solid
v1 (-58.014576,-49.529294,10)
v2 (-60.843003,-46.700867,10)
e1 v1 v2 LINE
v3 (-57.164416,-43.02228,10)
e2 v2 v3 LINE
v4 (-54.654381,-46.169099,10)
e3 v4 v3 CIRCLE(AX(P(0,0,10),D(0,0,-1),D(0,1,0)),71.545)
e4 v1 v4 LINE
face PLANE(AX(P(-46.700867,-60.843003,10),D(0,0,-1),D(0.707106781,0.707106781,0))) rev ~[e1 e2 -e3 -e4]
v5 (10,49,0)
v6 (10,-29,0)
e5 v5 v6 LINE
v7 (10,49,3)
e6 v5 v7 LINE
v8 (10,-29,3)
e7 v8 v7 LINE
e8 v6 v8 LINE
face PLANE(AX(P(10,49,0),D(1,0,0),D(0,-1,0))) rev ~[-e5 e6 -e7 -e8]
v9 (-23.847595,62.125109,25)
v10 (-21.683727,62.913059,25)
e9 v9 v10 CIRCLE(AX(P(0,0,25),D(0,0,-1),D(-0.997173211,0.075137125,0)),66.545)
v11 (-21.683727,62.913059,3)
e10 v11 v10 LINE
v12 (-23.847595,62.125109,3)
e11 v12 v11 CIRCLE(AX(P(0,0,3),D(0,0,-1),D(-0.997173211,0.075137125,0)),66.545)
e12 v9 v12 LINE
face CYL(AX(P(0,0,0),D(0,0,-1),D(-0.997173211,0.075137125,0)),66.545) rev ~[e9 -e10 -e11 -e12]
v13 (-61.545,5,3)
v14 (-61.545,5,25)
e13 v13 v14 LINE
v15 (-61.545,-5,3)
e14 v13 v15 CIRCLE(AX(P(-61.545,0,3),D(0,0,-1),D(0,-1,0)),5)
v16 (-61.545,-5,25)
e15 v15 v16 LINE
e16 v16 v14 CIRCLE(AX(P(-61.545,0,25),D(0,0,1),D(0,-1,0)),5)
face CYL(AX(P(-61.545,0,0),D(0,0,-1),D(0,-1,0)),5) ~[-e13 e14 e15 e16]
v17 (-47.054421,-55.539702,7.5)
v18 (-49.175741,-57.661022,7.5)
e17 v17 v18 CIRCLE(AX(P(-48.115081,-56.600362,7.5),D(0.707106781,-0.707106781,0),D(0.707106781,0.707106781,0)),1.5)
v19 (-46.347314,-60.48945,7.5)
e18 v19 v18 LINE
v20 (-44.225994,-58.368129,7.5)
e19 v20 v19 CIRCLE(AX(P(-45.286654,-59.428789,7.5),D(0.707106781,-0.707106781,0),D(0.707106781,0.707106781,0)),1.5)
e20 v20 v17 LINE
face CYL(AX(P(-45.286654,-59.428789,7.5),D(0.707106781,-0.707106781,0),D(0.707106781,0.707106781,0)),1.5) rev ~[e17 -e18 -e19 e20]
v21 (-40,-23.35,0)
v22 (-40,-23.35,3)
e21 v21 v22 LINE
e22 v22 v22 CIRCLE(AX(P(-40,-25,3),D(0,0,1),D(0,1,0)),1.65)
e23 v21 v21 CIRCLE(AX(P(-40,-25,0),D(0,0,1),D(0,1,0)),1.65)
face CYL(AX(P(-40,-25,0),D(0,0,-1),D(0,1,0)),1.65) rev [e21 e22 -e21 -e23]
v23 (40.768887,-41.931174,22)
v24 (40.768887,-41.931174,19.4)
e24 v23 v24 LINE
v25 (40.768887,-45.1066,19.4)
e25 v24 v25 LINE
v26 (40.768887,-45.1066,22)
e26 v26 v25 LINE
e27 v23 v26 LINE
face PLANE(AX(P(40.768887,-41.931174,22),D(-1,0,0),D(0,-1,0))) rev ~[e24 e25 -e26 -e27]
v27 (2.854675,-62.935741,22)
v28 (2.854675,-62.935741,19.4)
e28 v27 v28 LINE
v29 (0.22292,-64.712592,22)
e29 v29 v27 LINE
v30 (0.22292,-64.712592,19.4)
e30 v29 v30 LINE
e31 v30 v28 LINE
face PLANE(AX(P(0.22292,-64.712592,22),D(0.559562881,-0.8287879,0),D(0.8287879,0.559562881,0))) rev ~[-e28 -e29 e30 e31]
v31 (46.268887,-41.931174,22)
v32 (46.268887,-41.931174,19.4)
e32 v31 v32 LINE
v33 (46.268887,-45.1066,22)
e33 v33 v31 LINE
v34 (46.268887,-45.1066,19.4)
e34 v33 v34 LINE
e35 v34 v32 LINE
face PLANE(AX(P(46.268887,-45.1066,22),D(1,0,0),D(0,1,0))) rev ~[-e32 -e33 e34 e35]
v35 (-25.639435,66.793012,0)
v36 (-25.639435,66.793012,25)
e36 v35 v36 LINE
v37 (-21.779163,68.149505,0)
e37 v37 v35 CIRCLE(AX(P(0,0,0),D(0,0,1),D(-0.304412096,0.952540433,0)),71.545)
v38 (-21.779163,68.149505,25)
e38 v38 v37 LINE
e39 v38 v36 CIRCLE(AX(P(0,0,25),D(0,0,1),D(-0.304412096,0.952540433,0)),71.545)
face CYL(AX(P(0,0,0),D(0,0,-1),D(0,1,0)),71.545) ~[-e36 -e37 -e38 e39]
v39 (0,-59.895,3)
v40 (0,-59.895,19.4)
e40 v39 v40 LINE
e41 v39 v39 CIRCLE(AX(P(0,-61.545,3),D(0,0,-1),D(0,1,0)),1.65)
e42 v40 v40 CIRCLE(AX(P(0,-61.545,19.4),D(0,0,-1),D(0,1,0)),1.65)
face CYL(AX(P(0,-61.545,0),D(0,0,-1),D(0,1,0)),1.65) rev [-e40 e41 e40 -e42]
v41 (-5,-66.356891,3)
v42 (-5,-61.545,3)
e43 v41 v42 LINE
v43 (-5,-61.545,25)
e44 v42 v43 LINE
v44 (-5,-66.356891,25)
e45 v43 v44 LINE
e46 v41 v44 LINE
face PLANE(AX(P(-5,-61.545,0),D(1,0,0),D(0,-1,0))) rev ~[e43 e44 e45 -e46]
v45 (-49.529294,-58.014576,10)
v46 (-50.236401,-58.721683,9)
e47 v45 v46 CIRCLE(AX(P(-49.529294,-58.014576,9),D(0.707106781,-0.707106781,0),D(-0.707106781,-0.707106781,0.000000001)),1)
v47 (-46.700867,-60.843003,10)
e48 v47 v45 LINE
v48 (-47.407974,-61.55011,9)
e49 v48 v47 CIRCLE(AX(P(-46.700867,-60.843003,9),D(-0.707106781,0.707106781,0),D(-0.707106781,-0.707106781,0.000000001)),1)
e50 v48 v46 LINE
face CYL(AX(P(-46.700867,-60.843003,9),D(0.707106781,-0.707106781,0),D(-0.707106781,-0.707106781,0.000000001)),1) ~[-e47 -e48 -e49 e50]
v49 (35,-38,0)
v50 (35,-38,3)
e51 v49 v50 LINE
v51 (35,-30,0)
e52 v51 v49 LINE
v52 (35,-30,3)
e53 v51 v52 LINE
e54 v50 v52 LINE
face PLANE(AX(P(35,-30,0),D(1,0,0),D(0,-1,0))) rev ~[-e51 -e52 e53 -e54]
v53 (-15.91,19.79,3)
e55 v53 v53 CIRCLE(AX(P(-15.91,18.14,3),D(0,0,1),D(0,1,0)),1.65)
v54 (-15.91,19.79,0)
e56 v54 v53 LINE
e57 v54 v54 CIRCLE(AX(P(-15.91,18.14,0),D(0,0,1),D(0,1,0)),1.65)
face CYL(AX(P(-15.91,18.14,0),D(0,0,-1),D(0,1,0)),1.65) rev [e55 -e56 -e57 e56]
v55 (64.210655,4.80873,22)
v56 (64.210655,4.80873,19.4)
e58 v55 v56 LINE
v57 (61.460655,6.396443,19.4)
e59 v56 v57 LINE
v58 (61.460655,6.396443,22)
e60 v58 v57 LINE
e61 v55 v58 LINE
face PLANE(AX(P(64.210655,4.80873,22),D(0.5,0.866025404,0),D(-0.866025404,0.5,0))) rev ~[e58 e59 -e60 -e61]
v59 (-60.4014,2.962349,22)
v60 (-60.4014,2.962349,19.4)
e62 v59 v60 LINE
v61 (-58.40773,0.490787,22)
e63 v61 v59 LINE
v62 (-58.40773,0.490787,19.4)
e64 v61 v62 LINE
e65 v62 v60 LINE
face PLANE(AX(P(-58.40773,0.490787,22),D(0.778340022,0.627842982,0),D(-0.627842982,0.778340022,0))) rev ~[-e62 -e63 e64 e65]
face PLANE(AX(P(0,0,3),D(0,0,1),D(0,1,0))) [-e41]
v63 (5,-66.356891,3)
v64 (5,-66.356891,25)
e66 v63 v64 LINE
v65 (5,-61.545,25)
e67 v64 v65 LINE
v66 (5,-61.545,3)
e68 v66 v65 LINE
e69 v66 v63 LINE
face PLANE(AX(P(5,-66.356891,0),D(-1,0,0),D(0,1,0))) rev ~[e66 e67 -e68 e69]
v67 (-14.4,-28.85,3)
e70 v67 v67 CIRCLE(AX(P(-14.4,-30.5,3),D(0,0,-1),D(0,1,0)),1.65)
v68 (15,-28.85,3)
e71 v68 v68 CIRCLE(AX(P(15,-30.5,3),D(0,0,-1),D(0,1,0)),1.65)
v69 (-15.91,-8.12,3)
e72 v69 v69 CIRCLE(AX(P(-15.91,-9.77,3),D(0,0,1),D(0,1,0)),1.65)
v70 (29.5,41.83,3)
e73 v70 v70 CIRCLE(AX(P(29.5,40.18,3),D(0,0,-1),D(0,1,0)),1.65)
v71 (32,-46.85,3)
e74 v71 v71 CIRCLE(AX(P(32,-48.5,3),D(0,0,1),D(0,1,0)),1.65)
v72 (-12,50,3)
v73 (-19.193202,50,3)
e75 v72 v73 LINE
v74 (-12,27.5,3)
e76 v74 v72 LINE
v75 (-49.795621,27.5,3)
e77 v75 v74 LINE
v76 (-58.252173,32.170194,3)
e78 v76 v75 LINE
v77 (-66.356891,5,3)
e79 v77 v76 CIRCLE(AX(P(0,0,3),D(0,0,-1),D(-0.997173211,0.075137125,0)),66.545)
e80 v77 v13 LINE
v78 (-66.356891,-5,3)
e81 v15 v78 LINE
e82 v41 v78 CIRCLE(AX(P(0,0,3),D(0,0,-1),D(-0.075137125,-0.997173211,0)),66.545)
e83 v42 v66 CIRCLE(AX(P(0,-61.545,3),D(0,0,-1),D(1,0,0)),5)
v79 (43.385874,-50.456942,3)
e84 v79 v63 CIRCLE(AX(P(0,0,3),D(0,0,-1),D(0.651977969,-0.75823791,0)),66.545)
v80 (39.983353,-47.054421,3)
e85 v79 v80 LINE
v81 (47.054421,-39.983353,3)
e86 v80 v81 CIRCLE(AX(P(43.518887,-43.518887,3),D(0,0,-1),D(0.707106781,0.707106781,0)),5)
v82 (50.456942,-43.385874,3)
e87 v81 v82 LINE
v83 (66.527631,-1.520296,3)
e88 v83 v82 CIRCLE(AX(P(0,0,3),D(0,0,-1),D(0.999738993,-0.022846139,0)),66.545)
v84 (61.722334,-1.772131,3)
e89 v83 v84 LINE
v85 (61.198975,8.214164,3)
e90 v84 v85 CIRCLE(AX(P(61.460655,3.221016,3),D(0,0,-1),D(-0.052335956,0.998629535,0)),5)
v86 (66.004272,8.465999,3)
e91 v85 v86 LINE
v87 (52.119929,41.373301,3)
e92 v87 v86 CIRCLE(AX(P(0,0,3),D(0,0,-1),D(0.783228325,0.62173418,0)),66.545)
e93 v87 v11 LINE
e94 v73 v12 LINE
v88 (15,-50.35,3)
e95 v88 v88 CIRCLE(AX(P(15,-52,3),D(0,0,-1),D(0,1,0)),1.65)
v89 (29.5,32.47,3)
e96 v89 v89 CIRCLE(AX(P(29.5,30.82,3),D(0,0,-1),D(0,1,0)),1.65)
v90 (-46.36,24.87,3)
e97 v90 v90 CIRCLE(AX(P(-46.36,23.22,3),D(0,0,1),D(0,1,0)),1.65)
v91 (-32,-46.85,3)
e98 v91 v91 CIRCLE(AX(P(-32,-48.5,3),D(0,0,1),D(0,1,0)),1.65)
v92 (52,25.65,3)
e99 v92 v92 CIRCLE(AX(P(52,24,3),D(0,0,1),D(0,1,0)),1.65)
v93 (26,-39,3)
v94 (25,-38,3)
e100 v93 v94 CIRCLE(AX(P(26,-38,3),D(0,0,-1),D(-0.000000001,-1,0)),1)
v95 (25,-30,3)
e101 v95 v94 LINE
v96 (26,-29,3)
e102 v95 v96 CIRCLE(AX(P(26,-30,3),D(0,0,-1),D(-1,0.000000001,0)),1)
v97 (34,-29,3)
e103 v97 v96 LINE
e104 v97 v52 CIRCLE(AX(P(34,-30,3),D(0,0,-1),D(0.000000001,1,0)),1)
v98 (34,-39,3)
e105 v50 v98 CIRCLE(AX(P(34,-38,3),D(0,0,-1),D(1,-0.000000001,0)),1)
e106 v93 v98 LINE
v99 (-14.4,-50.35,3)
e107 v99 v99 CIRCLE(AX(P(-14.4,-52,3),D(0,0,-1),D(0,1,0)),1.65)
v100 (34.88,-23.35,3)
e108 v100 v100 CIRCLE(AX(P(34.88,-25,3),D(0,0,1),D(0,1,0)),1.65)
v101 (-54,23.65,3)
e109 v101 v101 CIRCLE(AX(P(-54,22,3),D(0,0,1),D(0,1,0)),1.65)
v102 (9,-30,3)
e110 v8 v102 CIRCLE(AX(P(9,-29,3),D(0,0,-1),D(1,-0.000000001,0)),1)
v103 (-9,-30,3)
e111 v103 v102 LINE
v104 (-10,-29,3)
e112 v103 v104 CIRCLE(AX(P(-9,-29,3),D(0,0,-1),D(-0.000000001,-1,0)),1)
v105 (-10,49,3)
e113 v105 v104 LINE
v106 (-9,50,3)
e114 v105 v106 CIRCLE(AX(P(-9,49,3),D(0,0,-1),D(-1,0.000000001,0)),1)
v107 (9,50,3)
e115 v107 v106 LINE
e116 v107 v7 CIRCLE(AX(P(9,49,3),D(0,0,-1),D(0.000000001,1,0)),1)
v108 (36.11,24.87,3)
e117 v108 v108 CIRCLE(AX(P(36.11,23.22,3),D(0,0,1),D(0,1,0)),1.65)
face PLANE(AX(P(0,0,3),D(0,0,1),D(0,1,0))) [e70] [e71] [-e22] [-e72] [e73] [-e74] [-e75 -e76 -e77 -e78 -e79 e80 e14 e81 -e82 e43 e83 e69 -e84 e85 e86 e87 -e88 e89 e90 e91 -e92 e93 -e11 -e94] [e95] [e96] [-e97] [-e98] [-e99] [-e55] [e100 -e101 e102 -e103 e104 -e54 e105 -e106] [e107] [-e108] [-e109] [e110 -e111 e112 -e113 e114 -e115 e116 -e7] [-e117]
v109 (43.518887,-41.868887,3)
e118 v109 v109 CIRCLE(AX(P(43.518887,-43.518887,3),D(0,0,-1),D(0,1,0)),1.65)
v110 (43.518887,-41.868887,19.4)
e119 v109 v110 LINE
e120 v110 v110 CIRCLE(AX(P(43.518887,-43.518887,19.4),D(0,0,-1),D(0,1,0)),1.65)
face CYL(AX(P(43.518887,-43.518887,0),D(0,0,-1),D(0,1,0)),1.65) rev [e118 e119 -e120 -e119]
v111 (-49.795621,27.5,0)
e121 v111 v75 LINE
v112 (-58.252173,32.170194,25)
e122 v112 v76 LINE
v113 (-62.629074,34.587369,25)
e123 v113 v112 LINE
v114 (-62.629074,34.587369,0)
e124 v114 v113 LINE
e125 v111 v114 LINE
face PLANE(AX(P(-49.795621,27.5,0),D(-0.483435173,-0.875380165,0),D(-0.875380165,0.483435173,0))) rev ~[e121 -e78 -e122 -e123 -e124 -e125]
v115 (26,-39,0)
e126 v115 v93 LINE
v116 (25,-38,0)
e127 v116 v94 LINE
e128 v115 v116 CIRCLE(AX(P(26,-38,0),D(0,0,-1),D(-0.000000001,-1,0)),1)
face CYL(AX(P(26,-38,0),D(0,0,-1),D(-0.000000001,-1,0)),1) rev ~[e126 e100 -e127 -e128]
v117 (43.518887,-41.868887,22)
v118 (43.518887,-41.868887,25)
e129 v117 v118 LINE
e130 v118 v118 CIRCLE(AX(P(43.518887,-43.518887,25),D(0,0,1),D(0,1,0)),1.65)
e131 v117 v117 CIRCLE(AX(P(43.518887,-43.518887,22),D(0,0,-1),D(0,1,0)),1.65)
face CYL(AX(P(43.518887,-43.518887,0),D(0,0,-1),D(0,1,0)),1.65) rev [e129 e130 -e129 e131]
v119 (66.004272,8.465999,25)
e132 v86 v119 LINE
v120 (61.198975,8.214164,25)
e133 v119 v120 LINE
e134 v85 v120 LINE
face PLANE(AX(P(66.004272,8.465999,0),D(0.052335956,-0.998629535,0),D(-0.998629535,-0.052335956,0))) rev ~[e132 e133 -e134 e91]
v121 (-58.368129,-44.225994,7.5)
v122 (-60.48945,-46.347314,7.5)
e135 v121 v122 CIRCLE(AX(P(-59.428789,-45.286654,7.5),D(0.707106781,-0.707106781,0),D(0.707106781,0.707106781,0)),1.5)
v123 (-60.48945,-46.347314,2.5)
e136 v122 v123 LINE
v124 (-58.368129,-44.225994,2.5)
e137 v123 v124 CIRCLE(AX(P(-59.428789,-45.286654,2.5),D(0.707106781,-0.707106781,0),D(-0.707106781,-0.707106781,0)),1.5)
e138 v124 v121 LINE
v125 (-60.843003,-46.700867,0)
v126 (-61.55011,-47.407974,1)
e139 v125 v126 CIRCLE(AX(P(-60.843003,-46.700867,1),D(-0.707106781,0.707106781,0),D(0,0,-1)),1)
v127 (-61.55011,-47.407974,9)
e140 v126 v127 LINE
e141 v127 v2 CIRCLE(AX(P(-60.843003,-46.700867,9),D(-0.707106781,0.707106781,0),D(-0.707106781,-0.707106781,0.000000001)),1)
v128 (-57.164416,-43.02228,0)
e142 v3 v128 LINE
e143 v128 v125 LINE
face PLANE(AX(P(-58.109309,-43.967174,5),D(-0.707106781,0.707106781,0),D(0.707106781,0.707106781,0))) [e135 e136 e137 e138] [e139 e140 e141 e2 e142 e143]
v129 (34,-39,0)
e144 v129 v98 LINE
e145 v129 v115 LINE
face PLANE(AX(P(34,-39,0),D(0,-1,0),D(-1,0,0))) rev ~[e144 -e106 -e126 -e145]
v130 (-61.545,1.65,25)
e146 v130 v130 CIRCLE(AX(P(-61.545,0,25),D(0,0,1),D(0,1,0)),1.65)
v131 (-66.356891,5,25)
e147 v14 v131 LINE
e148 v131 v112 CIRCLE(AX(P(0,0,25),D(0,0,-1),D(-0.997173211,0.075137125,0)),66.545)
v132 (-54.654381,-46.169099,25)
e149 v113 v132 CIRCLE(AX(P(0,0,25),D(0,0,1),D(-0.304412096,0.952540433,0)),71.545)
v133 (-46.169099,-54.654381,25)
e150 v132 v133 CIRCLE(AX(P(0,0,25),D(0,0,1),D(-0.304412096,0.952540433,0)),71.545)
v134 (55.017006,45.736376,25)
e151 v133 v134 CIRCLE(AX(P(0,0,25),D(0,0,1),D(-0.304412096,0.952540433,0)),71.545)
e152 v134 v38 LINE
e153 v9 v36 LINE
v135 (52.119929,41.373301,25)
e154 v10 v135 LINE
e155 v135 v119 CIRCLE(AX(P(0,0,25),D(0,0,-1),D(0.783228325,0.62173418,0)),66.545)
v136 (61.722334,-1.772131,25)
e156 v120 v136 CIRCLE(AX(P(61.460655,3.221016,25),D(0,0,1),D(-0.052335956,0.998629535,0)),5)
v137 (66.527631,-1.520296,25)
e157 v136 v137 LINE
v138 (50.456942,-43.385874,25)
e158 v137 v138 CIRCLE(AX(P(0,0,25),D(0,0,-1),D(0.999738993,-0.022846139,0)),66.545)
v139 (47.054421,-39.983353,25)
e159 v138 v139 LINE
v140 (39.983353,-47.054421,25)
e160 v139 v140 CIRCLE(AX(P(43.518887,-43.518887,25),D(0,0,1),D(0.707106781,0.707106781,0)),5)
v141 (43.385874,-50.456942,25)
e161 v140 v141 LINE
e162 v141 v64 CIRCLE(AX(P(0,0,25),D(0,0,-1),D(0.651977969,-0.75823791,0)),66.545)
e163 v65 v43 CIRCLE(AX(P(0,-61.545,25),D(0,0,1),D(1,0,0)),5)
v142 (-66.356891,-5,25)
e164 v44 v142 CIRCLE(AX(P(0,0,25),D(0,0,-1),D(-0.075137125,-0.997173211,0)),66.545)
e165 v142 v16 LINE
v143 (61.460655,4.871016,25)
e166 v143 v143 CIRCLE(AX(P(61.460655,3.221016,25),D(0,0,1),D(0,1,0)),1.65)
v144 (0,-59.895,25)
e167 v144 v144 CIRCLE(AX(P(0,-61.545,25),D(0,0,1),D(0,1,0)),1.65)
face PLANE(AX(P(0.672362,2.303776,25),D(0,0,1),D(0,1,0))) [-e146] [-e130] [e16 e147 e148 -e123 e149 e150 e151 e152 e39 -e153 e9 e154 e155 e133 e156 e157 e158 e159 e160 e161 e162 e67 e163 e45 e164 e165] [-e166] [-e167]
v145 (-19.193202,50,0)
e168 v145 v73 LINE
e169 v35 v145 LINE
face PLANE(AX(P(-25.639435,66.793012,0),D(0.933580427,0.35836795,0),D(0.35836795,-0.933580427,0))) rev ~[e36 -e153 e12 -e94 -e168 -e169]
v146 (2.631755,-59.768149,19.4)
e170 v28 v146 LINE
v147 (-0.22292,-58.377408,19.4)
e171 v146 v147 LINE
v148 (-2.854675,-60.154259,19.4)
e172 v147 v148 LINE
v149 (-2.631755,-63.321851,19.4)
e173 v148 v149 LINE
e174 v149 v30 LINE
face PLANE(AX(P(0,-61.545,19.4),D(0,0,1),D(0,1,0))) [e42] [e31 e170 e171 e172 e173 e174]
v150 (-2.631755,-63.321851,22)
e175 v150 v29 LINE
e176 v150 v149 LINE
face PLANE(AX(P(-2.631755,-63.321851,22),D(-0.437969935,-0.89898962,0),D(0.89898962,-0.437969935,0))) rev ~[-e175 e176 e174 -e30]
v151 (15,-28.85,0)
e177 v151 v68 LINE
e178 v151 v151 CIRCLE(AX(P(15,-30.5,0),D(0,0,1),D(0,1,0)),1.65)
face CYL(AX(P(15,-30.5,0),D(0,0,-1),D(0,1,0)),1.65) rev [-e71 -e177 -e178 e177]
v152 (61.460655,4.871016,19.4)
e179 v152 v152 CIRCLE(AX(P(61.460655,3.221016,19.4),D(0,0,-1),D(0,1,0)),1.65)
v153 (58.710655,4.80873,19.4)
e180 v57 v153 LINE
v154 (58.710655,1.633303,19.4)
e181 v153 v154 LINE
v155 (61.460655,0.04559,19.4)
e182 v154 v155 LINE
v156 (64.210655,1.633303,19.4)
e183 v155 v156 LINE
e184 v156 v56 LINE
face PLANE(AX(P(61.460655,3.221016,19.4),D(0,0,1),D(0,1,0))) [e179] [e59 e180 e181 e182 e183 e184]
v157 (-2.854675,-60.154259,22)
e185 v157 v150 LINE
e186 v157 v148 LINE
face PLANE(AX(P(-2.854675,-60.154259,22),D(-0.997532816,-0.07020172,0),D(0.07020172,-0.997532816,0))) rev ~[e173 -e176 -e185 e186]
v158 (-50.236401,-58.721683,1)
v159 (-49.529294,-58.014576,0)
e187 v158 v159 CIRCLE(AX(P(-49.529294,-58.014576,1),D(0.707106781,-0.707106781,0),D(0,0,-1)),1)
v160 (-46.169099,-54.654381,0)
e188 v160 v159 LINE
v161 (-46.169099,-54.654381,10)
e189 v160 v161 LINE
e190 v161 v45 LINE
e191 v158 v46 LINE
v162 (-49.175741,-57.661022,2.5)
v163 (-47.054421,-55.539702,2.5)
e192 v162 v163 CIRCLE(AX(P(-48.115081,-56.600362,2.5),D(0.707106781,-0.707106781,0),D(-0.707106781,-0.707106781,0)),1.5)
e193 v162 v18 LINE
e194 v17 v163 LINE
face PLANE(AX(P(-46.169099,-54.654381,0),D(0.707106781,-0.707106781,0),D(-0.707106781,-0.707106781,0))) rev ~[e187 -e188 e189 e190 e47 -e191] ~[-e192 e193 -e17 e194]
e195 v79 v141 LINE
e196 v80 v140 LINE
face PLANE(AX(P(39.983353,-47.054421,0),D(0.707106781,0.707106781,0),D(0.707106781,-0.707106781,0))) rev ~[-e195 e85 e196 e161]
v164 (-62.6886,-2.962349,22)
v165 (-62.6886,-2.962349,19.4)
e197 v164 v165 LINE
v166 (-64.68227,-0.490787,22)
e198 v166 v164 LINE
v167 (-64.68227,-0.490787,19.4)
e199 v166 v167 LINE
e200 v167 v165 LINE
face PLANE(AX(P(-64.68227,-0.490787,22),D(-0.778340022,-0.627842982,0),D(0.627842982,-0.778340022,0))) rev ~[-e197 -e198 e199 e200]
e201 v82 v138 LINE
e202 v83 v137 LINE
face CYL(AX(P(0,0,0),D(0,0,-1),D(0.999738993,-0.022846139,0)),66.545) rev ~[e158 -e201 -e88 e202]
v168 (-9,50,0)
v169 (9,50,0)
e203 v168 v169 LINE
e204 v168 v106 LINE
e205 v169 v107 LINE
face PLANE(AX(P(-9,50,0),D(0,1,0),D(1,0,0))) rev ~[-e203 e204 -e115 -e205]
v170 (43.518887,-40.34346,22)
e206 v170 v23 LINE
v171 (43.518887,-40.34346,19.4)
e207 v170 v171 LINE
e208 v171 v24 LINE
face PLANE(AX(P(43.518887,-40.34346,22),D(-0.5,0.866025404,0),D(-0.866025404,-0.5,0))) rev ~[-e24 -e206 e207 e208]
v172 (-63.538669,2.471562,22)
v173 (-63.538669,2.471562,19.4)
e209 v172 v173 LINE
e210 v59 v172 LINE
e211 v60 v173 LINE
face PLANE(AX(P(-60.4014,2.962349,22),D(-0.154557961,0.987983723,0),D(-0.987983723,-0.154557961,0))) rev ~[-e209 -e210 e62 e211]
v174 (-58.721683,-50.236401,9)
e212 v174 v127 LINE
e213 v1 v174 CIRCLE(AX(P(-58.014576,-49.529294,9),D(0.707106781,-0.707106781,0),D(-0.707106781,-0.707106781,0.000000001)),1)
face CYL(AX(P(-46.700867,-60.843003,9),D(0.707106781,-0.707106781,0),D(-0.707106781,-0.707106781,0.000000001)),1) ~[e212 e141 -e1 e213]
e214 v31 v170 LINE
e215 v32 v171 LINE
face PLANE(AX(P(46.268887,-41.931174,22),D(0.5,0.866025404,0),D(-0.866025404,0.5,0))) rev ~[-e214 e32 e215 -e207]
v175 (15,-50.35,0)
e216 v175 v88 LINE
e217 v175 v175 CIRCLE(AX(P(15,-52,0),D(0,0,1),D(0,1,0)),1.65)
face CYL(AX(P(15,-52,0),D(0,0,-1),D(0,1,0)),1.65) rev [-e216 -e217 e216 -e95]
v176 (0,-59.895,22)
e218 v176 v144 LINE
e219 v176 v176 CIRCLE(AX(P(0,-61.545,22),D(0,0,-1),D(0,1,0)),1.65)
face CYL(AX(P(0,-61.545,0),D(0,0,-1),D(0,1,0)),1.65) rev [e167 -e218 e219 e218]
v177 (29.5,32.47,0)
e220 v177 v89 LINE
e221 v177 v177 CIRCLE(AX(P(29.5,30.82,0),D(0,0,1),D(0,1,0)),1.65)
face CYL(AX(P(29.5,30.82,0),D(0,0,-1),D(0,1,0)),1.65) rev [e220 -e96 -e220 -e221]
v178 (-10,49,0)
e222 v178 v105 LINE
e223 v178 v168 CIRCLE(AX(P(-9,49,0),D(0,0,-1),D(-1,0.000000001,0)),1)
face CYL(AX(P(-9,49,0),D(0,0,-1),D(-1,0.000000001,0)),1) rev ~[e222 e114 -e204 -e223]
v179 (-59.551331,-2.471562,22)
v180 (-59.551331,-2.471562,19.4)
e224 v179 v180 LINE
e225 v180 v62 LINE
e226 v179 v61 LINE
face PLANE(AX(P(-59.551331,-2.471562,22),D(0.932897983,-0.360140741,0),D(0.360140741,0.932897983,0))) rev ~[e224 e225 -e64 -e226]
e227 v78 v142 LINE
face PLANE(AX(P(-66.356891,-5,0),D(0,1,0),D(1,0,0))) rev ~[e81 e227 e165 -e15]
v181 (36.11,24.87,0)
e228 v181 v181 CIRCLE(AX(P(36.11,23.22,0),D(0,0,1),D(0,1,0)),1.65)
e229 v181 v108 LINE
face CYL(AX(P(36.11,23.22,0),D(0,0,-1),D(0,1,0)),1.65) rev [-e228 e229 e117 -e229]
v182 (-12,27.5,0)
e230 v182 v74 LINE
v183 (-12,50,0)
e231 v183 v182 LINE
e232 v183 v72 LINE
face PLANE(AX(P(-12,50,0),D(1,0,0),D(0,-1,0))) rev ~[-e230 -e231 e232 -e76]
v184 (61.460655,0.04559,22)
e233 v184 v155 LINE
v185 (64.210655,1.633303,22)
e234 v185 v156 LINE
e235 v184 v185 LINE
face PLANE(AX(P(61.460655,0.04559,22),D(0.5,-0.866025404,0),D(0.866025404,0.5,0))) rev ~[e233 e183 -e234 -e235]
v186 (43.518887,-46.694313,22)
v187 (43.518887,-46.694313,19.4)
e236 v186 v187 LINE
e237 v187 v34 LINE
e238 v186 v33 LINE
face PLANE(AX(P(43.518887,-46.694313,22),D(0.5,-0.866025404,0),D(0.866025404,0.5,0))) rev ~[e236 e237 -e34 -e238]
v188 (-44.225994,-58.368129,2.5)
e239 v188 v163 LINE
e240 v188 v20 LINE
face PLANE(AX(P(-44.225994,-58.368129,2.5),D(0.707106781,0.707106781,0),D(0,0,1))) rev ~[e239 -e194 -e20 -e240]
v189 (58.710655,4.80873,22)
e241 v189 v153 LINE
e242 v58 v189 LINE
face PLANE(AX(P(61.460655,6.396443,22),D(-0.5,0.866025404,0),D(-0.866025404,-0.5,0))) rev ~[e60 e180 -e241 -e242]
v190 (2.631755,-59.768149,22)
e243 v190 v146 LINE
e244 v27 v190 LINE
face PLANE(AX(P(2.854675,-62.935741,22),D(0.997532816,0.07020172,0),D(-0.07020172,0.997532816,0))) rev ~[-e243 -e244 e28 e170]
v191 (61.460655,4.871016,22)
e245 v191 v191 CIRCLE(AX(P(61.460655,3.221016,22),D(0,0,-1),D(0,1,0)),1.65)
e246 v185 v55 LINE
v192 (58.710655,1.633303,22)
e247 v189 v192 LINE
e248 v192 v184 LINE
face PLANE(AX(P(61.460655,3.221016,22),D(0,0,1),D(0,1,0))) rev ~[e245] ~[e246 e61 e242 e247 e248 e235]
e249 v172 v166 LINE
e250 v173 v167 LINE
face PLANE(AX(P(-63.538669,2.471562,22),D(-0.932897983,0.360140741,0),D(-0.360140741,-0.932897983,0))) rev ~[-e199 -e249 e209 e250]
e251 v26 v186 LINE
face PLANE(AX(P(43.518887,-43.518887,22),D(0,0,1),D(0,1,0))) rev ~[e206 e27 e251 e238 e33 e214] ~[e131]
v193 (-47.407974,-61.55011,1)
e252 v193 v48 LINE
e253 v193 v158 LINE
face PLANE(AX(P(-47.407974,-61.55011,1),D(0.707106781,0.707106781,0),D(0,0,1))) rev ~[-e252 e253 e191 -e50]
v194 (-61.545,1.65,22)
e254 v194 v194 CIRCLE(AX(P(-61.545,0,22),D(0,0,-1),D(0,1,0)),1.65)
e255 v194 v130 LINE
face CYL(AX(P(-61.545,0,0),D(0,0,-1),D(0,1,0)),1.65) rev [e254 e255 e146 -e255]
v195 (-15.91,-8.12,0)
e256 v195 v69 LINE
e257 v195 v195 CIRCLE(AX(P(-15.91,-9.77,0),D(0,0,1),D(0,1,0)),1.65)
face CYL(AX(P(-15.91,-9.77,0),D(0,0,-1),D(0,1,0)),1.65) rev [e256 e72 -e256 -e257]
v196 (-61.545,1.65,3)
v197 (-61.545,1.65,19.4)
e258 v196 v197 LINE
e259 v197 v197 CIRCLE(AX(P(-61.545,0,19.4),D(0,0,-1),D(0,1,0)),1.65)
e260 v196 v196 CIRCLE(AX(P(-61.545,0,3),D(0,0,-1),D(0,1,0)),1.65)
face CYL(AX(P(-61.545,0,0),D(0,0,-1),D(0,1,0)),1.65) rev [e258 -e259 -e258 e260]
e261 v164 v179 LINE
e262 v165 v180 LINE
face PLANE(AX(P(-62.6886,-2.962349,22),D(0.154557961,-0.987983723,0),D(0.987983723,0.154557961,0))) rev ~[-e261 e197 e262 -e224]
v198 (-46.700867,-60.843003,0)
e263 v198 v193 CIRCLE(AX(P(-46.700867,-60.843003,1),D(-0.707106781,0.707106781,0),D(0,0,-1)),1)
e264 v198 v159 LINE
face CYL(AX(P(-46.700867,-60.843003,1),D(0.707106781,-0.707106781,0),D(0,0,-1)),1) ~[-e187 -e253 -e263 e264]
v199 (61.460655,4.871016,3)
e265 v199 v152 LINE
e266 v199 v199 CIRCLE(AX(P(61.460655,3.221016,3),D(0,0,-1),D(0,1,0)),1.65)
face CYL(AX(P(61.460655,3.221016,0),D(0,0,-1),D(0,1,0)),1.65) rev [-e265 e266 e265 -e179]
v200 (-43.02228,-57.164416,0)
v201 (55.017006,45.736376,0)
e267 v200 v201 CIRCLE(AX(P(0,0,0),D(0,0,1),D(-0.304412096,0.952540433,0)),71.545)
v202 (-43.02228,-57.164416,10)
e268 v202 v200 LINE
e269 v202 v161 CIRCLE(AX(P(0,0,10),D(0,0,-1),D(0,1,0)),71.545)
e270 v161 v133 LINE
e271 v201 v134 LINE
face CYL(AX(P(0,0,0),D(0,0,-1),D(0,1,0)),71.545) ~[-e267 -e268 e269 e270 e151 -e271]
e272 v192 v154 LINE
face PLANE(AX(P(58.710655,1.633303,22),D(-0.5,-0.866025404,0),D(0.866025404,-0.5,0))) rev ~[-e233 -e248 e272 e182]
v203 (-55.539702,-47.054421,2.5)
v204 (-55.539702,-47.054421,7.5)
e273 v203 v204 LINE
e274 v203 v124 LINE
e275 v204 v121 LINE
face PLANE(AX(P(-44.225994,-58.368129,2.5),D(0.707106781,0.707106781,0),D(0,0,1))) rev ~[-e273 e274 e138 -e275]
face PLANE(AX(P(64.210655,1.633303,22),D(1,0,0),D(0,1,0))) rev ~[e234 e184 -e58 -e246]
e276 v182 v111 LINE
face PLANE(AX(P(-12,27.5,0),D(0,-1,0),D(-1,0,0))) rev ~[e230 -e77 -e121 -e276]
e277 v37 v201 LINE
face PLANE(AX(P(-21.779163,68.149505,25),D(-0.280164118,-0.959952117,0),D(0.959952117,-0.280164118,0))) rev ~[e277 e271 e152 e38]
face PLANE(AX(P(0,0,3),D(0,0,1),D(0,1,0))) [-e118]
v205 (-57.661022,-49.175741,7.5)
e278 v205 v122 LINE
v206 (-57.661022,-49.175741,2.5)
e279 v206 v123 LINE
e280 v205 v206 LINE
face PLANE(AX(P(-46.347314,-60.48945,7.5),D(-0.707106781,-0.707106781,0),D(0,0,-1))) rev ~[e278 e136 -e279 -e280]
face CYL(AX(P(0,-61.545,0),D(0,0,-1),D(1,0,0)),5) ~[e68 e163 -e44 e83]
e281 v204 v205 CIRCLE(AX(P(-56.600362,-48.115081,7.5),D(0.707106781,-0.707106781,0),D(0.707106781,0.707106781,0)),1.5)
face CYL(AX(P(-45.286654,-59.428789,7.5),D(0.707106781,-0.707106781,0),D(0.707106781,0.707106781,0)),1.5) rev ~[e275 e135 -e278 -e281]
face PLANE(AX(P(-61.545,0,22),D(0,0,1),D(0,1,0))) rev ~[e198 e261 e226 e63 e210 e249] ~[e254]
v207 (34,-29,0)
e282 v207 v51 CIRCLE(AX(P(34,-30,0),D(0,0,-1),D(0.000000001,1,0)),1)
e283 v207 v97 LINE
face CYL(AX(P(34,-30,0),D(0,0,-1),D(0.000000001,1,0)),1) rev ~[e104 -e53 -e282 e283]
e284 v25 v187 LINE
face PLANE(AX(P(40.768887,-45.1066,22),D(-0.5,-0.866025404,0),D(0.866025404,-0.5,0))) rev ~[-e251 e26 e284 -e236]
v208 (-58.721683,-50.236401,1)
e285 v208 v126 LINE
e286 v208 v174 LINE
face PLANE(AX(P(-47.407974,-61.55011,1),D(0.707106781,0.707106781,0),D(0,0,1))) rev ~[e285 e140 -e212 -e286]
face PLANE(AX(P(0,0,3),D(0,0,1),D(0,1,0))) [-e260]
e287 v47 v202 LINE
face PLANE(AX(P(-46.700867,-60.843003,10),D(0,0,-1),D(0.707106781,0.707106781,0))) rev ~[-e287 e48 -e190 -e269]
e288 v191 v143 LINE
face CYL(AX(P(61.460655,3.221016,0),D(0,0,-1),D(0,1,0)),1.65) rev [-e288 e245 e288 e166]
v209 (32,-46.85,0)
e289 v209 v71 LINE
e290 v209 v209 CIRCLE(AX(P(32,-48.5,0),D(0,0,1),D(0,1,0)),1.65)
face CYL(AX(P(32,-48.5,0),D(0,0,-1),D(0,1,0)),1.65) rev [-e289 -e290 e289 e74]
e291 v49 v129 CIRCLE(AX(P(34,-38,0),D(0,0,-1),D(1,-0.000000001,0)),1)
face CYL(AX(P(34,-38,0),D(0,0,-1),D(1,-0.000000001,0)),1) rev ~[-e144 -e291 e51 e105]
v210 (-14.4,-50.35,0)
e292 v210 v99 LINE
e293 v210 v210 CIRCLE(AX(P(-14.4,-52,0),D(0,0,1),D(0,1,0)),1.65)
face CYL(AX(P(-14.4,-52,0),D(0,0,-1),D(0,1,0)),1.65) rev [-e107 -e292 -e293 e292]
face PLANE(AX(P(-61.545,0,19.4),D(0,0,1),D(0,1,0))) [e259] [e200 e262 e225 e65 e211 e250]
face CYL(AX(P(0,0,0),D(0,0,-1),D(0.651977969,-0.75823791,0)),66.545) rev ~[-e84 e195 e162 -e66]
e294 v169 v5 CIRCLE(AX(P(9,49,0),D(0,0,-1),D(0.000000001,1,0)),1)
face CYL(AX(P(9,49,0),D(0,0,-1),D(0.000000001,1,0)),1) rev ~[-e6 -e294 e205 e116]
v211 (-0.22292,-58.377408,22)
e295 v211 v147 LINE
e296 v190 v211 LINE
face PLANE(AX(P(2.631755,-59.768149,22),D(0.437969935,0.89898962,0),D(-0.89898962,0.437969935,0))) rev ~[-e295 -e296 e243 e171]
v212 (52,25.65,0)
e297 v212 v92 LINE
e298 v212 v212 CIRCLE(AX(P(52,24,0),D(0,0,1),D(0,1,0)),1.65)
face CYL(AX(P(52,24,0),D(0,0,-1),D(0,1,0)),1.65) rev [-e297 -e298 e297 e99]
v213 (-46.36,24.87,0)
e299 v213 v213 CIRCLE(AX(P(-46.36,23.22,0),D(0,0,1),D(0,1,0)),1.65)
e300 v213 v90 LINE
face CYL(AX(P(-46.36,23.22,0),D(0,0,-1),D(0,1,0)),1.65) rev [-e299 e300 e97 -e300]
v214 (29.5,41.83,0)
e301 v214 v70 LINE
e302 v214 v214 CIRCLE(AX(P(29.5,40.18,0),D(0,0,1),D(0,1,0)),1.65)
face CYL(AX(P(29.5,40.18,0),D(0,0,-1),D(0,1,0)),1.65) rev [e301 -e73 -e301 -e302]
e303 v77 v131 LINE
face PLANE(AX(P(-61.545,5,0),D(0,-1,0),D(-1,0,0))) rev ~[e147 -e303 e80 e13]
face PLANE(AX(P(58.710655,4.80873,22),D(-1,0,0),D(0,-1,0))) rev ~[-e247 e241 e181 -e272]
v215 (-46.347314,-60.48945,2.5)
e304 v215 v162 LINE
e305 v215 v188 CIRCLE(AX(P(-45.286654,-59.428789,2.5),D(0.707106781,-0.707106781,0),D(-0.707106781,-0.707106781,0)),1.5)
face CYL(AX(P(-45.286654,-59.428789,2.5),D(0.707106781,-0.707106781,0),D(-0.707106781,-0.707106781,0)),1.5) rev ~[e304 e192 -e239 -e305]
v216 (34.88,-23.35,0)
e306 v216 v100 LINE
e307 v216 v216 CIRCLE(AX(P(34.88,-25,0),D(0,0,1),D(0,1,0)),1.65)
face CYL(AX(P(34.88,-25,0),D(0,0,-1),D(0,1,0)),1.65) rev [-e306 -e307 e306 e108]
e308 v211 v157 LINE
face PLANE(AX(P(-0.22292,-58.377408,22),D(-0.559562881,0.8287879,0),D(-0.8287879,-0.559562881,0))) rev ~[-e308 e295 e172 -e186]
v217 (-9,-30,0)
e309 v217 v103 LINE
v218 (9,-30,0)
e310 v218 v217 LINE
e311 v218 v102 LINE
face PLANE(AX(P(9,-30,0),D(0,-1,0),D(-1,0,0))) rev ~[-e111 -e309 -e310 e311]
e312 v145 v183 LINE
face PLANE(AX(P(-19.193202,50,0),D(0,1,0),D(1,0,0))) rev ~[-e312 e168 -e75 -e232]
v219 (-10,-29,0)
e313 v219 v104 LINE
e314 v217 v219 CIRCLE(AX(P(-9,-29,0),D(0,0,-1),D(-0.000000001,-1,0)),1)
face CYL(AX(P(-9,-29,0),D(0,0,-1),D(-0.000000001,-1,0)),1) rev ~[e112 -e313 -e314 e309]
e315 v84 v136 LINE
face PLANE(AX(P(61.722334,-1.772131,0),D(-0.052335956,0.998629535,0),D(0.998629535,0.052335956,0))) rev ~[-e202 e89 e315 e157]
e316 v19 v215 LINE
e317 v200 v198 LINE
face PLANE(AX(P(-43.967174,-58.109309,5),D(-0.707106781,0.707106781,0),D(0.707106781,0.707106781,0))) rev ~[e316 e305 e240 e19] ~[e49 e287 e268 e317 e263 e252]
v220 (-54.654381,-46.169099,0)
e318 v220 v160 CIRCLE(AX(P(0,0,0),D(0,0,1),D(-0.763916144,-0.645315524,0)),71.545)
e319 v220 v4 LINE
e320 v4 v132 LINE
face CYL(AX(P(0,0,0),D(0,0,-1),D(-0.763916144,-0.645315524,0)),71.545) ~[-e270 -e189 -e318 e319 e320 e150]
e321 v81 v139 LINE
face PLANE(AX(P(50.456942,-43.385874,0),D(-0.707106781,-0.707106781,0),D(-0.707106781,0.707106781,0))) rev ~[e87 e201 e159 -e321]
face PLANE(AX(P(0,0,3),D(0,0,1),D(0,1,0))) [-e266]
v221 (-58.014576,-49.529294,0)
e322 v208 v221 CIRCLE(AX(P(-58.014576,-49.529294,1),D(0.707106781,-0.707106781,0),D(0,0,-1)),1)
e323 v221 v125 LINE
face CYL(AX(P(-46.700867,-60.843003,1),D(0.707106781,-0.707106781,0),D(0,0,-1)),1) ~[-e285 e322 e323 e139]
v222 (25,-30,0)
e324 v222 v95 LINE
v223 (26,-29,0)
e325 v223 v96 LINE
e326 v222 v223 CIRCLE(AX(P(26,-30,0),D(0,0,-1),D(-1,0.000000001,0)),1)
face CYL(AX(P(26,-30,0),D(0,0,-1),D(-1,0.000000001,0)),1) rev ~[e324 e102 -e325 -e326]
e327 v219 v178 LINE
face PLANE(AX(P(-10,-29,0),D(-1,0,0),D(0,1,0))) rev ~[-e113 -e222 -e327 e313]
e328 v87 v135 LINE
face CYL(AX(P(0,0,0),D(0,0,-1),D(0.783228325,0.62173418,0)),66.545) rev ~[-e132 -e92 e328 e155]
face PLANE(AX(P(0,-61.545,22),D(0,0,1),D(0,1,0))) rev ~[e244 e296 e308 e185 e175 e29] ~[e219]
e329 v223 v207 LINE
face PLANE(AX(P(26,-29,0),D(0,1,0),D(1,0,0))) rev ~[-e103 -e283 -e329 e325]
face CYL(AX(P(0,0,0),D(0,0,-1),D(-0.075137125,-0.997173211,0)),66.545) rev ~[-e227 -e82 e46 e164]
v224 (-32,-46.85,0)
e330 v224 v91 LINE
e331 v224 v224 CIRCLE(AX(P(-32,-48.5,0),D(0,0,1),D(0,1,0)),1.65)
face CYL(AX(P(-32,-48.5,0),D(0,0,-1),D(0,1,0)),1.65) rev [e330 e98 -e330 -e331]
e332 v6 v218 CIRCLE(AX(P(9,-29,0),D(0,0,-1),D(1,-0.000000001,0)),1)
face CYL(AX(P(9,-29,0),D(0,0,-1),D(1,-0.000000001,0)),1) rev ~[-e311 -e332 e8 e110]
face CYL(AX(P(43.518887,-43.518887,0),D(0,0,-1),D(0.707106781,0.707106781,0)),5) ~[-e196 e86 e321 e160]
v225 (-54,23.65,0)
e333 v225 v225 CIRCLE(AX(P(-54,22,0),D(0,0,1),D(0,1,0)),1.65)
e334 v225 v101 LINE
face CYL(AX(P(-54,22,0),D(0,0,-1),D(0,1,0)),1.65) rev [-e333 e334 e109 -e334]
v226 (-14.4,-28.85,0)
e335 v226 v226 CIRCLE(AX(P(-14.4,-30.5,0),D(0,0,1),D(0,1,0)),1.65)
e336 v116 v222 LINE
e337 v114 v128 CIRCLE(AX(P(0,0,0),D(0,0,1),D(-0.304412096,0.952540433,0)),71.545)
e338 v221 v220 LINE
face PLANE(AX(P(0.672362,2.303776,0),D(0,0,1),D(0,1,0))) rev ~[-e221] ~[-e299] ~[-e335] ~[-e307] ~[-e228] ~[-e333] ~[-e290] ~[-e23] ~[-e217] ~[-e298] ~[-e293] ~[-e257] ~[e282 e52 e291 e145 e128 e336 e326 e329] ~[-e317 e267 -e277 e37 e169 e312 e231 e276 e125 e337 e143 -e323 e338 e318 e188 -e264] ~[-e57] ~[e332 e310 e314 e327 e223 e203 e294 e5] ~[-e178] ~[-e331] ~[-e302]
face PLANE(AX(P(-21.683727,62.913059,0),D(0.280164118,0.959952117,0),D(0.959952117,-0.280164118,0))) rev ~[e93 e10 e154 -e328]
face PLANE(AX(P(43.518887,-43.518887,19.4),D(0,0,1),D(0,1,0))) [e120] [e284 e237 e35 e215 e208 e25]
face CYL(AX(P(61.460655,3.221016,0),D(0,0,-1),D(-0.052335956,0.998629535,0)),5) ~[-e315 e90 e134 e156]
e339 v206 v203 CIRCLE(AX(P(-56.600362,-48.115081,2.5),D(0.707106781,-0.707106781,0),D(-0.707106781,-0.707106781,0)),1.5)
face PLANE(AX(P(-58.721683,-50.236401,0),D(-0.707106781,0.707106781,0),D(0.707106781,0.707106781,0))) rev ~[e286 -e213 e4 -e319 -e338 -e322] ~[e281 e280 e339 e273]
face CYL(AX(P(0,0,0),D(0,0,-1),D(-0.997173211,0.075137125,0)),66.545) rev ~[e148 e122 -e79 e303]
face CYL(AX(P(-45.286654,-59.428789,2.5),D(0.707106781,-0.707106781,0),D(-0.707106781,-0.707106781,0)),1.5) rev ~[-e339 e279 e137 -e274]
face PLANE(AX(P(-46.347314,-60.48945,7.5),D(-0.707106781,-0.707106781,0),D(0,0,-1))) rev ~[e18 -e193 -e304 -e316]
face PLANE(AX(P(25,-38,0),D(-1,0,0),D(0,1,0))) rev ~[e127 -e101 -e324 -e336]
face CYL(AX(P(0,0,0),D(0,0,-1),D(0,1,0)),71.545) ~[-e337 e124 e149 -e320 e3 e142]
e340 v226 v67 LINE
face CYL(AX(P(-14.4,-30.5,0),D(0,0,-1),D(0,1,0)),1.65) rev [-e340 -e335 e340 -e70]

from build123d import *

# Parameters (mm, degrees)
SKETCH1_R                 = 71.545
SKETCH1_R_2               = 1.65
PLATE_EXTRUD_DEPTH        = 3
SKETCH2_R                 = 1.65
ARDUINO_MOUNT_HOLES_DEPTH = 3
CABLE_HOLE_DEPTH          = 102.224374782
SKETCH5_R                 = 1.65
RELAY_MOUNT_HOLES_DEPTH   = 102.224374782
SKETCH6_R                 = 1.65
BOSS_EXTRUDE3_DEPTH       = 25
CUT_EXTRUDE1_DEPTH        = 105.222713695
CUT_EXTRUDE2_START        = 22
CUT_EXTRUDE2_DEPTH        = 2.6
CUT_EXTRUDE3_DEPTH        = 105.222713695
BOSS_EXTRUDE4_DEPTH       = 10
BOSS_EXTRUDE4_DEPTH_BACK  = 10
CUT_EXTRUDE4_DEPTH        = 105.222713695
SKETCH12_R                = 1.65
CUT_EXTRUDE5_DEPTH        = 105.222713695


with BuildPart() as part:
    # Sketch1 → Plate extrud (new body)
    with BuildSketch(Plane(origin=(0, 0, 0), x_dir=(0, 1, 0), z_dir=(0, 0, 1))):
        Circle(SKETCH1_R)
        with Locations((-48.5, 32)):
            Circle(SKETCH1_R_2, mode=Mode.SUBTRACT)
        with Locations((22, 54)):
            Circle(SKETCH1_R_2, mode=Mode.SUBTRACT)
        with Locations((24, -52)):
            Circle(SKETCH1_R_2, mode=Mode.SUBTRACT)
        with Locations((-48.5, -32)):
            Circle(SKETCH1_R_2, mode=Mode.SUBTRACT)
    extrude(amount=PLATE_EXTRUD_DEPTH)

    # Sketch2 → Arduino mount holes (cut)
    with BuildSketch(Plane(origin=(0, 0, 0), x_dir=(0, 1, 0), z_dir=(0, 0, 1))):
        with Locations((-25, 40)):
            Circle(SKETCH2_R)
        with Locations((23.22, 46.36)):
            Circle(SKETCH2_R)
        with Locations((18.14, 15.91)):
            Circle(SKETCH2_R)
        with Locations((-9.77, 15.91)):
            Circle(SKETCH2_R)
        with Locations((-25, -34.88)):
            Circle(SKETCH2_R)
        with Locations((23.22, -36.11)):
            Circle(SKETCH2_R)
    extrude(amount=ARDUINO_MOUNT_HOLES_DEPTH, mode=Mode.SUBTRACT)

    # Sketch4 → Cable hole (cut, through all)
    with BuildSketch(Plane(origin=(0, 0, 0), x_dir=(0, 1, 0), z_dir=(0, 0, 1))):
        with BuildLine():
            Line((-29, 10), (49, 10))
            ThreePointArc((49, 10), (49.707106781, 9.707106781), (50, 9))
            Line((50, 9), (50, -9))
            ThreePointArc((50, -9), (49.707106781, -9.707106781), (49, -10))
            Line((49, -10), (-29, -10))
            ThreePointArc((-29, -10), (-29.707106781, -9.707106781), (-30, -9))
            Line((-30, -9), (-30, 9))
            ThreePointArc((-30, 9), (-29.707106781, 9.707106781), (-29, 10))
        make_face()
        with BuildLine():
            Line((-38, -25), (-30, -25))
            ThreePointArc((-30, -25), (-29.292893219, -25.292893219), (-29, -26))
            Line((-29, -26), (-29, -34))
            ThreePointArc((-29, -34), (-29.292893219, -34.707106781), (-30, -35))
            Line((-30, -35), (-38, -35))
            ThreePointArc((-38, -35), (-38.707106781, -34.707106781), (-39, -34))
            Line((-39, -34), (-39, -26))
            ThreePointArc((-39, -26), (-38.707106781, -25.292893219), (-38, -25))
        make_face()
    extrude(amount=CABLE_HOLE_DEPTH, mode=Mode.SUBTRACT)

    # Sketch5 → Relay mount holes (cut, through all)
    with BuildSketch(Plane(origin=(0, 0, 0), x_dir=(0, 1, 0), z_dir=(0, 0, 1))):
        with Locations((-52, -15)):
            Circle(SKETCH5_R)
        with Locations((-30.5, -15)):
            Circle(SKETCH5_R)
        with Locations((-30.5, 14.4)):
            Circle(SKETCH5_R)
        with Locations((-52, 14.4)):
            Circle(SKETCH5_R)
    extrude(amount=RELAY_MOUNT_HOLES_DEPTH, mode=Mode.SUBTRACT)

    # Sketch6 → Boss-Extrude3 (add)
    with BuildSketch(Plane(origin=(0, 0, 0), x_dir=(0, 1, 0), z_dir=(0, 0, 1))):
        with BuildLine():
            ThreePointArc((68.149505263, 21.779163377), (-68.679774221, 20.044341793), (45.736375855, -55.017005995))
            Line((45.736375855, -55.017005995), (68.149505263, 21.779163377))
        make_face()
        with BuildLine():
            Line((-61.545, 5), (-66.356891315, 5))
            ThreePointArc((-66.356891315, 5), (-47.054420754, 47.054420754), (-5, 66.356891315))
            Line((-5, 66.356891315), (-5, 61.545))
            ThreePointArc((-5, 61.545), (0, 56.545), (5, 61.545))
            Line((5, 61.545), (5, 66.356891315))
            ThreePointArc((5, 66.356891315), (40.644418881, 52.69030498), (62.91305896, 21.683727477))
            Line((62.91305896, 21.683727477), (41.373300987, -52.119928918))
            ThreePointArc((41.373300987, -52.119928918), (25.868565875, -61.311127249), (8.465999034, -66.004271721))
            Line((8.465999034, -66.004271721), (8.214164101, -61.198974935))
            ThreePointArc((8.214164101, -61.198974935), (2.959336646, -56.467507043), (-1.772131247, -61.722334498))
            Line((-1.772131247, -61.722334498), (-1.520296313, -66.527631283))
            ThreePointArc((-1.520296313, -66.527631283), (-23.847595202, -62.125109481), (-43.385873921, -50.456941733))
            Line((-43.385873921, -50.456941733), (-39.983352942, -47.054420754))
            ThreePointArc((-39.983352942, -47.054420754), (-39.983352942, -39.983352942), (-47.054420754, -39.983352942))
            Line((-47.054420754, -39.983352942), (-50.456941733, -43.385873921))
            ThreePointArc((-50.456941733, -43.385873921), (-61.479563491, -25.465669007), (-66.356891315, -5))
            Line((-66.356891315, -5), (-61.545, -5))
            ThreePointArc((-61.545, -5), (-56.545, 0), (-61.545, 5))
        make_face(mode=Mode.SUBTRACT)
        with Locations((-61.545, 0)):
            Circle(SKETCH6_R, mode=Mode.SUBTRACT)
        with Locations((0, 61.545)):
            Circle(SKETCH6_R, mode=Mode.SUBTRACT)
        with Locations((-43.518886848, -43.518886848)):
            Circle(SKETCH6_R, mode=Mode.SUBTRACT)
        with Locations((3.221016427, -61.460654716)):
            Circle(SKETCH6_R, mode=Mode.SUBTRACT)
    extrude(amount=BOSS_EXTRUDE3_DEPTH)

    # Sketch7 → Cut-Extrude1 (cut, through all)
    with BuildSketch(Plane.XY.offset(25)):
        with BuildLine():
            Line((-21.779163377, 68.149505263), (55.017005995, 45.736375855))
            ThreePointArc((55.017005995, 45.736375855), (20.044341793, 68.679774221), (-21.779163377, 68.149505263))
        make_face()
    extrude(amount=-CUT_EXTRUDE1_DEPTH, mode=Mode.SUBTRACT)

    # Sketch8 → Cut-Extrude2 (cut)
    with BuildSketch(Plane(origin=(0, 0, 0), x_dir=(0, 1, 0), z_dir=(0, 0, 1)).offset(CUT_EXTRUDE2_START)):
        Polygon((-60.154258671, 2.854675444), (-63.321850789, 2.631755043), (-64.712592118, -0.2229204), (-62.935741329, -2.854675444), (-59.768149211, -2.631755043), (-58.377407882, 0.2229204), align=None)
        Polygon((2.962348959, 60.401399554), (2.471561517, 63.53866923), (-0.490787442, 64.682269676), (-2.962348959, 62.688600446), (-2.471561517, 59.55133077), (0.490787442, 58.407730324), align=None)
        Polygon((6.396442908, -61.460654716), (4.808729667, -58.710654716), (1.633303187, -58.710654716), (0.045589946, -61.460654716), (1.633303187, -64.210654716), (4.808729667, -64.210654716), align=None)
        Polygon((-40.343460368, -43.518886848), (-41.931173608, -40.768886848), (-45.106600088, -40.768886848), (-46.694313329, -43.518886848), (-45.106600088, -46.268886848), (-41.931173608, -46.268886848), align=None)
    extrude(amount=-CUT_EXTRUDE2_DEPTH, mode=Mode.SUBTRACT)

    # Sketch9 → Cut-Extrude3 (cut, through all)
    with BuildSketch(Plane(origin=(0, 0, 0), x_dir=(0, 1, 0), z_dir=(0, 0, 1))):
        with BuildLine():
            Line((66.793011614, 25.63943495), (50, 19.193201752))
            Line((50, 19.193201752), (50, 12))
            Line((50, 12), (27.5, 12))
            Line((27.5, 12), (27.5, 49.795620732))
            Line((27.5, 49.795620732), (34.587369472, 62.629073903))
            ThreePointArc((34.587369472, 62.629073903), (53.95881545, 46.980136869), (66.793011614, 25.63943495))
        make_face()
    extrude(amount=CUT_EXTRUDE3_DEPTH, mode=Mode.SUBTRACT)

    # Sketch10 → Boss-Extrude4 (add, two sides: drawn at the far end of the back side and taken through both)
    with BuildSketch(Plane(origin=(0, 0, 0), x_dir=(0.7071067811865477, 0.7071067811865475, 0), z_dir=(-0.7071067811865475, 0.7071067811865477, 0)).offset(-BOSS_EXTRUDE4_DEPTH_BACK)):
        with BuildLine():
            Line((-67.545, 0), (-76.045, 0))
            ThreePointArc((-76.045, 0), (-76.752106781, -0.292893219), (-77.045, -1))
            Line((-77.045, -1), (-77.045, -9))
            ThreePointArc((-77.045, -9), (-76.752106781, -9.707106781), (-76.045, -10))
            Line((-76.045, -10), (-67.545, -10))
            Line((-67.545, -10), (-67.545, 0))
        make_face()
        with BuildLine():
            Line((-72.545, -2.5), (-72.545, -7.5))
            ThreePointArc((-72.545, -7.5), (-74.045, -9), (-75.545, -7.5))
            Line((-75.545, -7.5), (-75.545, -2.5))
            ThreePointArc((-75.545, -2.5), (-74.045, -1), (-72.545, -2.5))
        make_face(mode=Mode.SUBTRACT)
    extrude(amount=BOSS_EXTRUDE4_DEPTH + BOSS_EXTRUDE4_DEPTH_BACK)

    # Sketch11 → Cut-Extrude4 (cut, through all)
    with BuildSketch(Plane(origin=(0, 0, 0), x_dir=(0, 1, 0), z_dir=(0, 0, 1))):
        with BuildLine():
            Line((-54.654380515, 46.169099141), (-58.721682644, 50.236401269))
            Line((-58.721682644, 50.236401269), (-50.236401269, 58.721682644))
            Line((-50.236401269, 58.721682644), (-46.169099141, 54.654380515))
            ThreePointArc((-46.169099141, 54.654380515), (-50.58995466, 50.58995466), (-54.654380515, 46.169099141))
        make_face()
    extrude(amount=CUT_EXTRUDE4_DEPTH, mode=Mode.SUBTRACT)

    # Sketch12 → Cut-Extrude5 (cut, through all)
    with BuildSketch(Plane(origin=(0, 0, 0), x_dir=(0, 1, 0), z_dir=(0, 0, 1))):
        with Locations((30.82, -29.5)):
            Circle(SKETCH12_R)
        with Locations((40.18, -29.5)):
            Circle(SKETCH12_R)
    extrude(amount=CUT_EXTRUDE5_DEPTH, mode=Mode.SUBTRACT)


solid = part.part
